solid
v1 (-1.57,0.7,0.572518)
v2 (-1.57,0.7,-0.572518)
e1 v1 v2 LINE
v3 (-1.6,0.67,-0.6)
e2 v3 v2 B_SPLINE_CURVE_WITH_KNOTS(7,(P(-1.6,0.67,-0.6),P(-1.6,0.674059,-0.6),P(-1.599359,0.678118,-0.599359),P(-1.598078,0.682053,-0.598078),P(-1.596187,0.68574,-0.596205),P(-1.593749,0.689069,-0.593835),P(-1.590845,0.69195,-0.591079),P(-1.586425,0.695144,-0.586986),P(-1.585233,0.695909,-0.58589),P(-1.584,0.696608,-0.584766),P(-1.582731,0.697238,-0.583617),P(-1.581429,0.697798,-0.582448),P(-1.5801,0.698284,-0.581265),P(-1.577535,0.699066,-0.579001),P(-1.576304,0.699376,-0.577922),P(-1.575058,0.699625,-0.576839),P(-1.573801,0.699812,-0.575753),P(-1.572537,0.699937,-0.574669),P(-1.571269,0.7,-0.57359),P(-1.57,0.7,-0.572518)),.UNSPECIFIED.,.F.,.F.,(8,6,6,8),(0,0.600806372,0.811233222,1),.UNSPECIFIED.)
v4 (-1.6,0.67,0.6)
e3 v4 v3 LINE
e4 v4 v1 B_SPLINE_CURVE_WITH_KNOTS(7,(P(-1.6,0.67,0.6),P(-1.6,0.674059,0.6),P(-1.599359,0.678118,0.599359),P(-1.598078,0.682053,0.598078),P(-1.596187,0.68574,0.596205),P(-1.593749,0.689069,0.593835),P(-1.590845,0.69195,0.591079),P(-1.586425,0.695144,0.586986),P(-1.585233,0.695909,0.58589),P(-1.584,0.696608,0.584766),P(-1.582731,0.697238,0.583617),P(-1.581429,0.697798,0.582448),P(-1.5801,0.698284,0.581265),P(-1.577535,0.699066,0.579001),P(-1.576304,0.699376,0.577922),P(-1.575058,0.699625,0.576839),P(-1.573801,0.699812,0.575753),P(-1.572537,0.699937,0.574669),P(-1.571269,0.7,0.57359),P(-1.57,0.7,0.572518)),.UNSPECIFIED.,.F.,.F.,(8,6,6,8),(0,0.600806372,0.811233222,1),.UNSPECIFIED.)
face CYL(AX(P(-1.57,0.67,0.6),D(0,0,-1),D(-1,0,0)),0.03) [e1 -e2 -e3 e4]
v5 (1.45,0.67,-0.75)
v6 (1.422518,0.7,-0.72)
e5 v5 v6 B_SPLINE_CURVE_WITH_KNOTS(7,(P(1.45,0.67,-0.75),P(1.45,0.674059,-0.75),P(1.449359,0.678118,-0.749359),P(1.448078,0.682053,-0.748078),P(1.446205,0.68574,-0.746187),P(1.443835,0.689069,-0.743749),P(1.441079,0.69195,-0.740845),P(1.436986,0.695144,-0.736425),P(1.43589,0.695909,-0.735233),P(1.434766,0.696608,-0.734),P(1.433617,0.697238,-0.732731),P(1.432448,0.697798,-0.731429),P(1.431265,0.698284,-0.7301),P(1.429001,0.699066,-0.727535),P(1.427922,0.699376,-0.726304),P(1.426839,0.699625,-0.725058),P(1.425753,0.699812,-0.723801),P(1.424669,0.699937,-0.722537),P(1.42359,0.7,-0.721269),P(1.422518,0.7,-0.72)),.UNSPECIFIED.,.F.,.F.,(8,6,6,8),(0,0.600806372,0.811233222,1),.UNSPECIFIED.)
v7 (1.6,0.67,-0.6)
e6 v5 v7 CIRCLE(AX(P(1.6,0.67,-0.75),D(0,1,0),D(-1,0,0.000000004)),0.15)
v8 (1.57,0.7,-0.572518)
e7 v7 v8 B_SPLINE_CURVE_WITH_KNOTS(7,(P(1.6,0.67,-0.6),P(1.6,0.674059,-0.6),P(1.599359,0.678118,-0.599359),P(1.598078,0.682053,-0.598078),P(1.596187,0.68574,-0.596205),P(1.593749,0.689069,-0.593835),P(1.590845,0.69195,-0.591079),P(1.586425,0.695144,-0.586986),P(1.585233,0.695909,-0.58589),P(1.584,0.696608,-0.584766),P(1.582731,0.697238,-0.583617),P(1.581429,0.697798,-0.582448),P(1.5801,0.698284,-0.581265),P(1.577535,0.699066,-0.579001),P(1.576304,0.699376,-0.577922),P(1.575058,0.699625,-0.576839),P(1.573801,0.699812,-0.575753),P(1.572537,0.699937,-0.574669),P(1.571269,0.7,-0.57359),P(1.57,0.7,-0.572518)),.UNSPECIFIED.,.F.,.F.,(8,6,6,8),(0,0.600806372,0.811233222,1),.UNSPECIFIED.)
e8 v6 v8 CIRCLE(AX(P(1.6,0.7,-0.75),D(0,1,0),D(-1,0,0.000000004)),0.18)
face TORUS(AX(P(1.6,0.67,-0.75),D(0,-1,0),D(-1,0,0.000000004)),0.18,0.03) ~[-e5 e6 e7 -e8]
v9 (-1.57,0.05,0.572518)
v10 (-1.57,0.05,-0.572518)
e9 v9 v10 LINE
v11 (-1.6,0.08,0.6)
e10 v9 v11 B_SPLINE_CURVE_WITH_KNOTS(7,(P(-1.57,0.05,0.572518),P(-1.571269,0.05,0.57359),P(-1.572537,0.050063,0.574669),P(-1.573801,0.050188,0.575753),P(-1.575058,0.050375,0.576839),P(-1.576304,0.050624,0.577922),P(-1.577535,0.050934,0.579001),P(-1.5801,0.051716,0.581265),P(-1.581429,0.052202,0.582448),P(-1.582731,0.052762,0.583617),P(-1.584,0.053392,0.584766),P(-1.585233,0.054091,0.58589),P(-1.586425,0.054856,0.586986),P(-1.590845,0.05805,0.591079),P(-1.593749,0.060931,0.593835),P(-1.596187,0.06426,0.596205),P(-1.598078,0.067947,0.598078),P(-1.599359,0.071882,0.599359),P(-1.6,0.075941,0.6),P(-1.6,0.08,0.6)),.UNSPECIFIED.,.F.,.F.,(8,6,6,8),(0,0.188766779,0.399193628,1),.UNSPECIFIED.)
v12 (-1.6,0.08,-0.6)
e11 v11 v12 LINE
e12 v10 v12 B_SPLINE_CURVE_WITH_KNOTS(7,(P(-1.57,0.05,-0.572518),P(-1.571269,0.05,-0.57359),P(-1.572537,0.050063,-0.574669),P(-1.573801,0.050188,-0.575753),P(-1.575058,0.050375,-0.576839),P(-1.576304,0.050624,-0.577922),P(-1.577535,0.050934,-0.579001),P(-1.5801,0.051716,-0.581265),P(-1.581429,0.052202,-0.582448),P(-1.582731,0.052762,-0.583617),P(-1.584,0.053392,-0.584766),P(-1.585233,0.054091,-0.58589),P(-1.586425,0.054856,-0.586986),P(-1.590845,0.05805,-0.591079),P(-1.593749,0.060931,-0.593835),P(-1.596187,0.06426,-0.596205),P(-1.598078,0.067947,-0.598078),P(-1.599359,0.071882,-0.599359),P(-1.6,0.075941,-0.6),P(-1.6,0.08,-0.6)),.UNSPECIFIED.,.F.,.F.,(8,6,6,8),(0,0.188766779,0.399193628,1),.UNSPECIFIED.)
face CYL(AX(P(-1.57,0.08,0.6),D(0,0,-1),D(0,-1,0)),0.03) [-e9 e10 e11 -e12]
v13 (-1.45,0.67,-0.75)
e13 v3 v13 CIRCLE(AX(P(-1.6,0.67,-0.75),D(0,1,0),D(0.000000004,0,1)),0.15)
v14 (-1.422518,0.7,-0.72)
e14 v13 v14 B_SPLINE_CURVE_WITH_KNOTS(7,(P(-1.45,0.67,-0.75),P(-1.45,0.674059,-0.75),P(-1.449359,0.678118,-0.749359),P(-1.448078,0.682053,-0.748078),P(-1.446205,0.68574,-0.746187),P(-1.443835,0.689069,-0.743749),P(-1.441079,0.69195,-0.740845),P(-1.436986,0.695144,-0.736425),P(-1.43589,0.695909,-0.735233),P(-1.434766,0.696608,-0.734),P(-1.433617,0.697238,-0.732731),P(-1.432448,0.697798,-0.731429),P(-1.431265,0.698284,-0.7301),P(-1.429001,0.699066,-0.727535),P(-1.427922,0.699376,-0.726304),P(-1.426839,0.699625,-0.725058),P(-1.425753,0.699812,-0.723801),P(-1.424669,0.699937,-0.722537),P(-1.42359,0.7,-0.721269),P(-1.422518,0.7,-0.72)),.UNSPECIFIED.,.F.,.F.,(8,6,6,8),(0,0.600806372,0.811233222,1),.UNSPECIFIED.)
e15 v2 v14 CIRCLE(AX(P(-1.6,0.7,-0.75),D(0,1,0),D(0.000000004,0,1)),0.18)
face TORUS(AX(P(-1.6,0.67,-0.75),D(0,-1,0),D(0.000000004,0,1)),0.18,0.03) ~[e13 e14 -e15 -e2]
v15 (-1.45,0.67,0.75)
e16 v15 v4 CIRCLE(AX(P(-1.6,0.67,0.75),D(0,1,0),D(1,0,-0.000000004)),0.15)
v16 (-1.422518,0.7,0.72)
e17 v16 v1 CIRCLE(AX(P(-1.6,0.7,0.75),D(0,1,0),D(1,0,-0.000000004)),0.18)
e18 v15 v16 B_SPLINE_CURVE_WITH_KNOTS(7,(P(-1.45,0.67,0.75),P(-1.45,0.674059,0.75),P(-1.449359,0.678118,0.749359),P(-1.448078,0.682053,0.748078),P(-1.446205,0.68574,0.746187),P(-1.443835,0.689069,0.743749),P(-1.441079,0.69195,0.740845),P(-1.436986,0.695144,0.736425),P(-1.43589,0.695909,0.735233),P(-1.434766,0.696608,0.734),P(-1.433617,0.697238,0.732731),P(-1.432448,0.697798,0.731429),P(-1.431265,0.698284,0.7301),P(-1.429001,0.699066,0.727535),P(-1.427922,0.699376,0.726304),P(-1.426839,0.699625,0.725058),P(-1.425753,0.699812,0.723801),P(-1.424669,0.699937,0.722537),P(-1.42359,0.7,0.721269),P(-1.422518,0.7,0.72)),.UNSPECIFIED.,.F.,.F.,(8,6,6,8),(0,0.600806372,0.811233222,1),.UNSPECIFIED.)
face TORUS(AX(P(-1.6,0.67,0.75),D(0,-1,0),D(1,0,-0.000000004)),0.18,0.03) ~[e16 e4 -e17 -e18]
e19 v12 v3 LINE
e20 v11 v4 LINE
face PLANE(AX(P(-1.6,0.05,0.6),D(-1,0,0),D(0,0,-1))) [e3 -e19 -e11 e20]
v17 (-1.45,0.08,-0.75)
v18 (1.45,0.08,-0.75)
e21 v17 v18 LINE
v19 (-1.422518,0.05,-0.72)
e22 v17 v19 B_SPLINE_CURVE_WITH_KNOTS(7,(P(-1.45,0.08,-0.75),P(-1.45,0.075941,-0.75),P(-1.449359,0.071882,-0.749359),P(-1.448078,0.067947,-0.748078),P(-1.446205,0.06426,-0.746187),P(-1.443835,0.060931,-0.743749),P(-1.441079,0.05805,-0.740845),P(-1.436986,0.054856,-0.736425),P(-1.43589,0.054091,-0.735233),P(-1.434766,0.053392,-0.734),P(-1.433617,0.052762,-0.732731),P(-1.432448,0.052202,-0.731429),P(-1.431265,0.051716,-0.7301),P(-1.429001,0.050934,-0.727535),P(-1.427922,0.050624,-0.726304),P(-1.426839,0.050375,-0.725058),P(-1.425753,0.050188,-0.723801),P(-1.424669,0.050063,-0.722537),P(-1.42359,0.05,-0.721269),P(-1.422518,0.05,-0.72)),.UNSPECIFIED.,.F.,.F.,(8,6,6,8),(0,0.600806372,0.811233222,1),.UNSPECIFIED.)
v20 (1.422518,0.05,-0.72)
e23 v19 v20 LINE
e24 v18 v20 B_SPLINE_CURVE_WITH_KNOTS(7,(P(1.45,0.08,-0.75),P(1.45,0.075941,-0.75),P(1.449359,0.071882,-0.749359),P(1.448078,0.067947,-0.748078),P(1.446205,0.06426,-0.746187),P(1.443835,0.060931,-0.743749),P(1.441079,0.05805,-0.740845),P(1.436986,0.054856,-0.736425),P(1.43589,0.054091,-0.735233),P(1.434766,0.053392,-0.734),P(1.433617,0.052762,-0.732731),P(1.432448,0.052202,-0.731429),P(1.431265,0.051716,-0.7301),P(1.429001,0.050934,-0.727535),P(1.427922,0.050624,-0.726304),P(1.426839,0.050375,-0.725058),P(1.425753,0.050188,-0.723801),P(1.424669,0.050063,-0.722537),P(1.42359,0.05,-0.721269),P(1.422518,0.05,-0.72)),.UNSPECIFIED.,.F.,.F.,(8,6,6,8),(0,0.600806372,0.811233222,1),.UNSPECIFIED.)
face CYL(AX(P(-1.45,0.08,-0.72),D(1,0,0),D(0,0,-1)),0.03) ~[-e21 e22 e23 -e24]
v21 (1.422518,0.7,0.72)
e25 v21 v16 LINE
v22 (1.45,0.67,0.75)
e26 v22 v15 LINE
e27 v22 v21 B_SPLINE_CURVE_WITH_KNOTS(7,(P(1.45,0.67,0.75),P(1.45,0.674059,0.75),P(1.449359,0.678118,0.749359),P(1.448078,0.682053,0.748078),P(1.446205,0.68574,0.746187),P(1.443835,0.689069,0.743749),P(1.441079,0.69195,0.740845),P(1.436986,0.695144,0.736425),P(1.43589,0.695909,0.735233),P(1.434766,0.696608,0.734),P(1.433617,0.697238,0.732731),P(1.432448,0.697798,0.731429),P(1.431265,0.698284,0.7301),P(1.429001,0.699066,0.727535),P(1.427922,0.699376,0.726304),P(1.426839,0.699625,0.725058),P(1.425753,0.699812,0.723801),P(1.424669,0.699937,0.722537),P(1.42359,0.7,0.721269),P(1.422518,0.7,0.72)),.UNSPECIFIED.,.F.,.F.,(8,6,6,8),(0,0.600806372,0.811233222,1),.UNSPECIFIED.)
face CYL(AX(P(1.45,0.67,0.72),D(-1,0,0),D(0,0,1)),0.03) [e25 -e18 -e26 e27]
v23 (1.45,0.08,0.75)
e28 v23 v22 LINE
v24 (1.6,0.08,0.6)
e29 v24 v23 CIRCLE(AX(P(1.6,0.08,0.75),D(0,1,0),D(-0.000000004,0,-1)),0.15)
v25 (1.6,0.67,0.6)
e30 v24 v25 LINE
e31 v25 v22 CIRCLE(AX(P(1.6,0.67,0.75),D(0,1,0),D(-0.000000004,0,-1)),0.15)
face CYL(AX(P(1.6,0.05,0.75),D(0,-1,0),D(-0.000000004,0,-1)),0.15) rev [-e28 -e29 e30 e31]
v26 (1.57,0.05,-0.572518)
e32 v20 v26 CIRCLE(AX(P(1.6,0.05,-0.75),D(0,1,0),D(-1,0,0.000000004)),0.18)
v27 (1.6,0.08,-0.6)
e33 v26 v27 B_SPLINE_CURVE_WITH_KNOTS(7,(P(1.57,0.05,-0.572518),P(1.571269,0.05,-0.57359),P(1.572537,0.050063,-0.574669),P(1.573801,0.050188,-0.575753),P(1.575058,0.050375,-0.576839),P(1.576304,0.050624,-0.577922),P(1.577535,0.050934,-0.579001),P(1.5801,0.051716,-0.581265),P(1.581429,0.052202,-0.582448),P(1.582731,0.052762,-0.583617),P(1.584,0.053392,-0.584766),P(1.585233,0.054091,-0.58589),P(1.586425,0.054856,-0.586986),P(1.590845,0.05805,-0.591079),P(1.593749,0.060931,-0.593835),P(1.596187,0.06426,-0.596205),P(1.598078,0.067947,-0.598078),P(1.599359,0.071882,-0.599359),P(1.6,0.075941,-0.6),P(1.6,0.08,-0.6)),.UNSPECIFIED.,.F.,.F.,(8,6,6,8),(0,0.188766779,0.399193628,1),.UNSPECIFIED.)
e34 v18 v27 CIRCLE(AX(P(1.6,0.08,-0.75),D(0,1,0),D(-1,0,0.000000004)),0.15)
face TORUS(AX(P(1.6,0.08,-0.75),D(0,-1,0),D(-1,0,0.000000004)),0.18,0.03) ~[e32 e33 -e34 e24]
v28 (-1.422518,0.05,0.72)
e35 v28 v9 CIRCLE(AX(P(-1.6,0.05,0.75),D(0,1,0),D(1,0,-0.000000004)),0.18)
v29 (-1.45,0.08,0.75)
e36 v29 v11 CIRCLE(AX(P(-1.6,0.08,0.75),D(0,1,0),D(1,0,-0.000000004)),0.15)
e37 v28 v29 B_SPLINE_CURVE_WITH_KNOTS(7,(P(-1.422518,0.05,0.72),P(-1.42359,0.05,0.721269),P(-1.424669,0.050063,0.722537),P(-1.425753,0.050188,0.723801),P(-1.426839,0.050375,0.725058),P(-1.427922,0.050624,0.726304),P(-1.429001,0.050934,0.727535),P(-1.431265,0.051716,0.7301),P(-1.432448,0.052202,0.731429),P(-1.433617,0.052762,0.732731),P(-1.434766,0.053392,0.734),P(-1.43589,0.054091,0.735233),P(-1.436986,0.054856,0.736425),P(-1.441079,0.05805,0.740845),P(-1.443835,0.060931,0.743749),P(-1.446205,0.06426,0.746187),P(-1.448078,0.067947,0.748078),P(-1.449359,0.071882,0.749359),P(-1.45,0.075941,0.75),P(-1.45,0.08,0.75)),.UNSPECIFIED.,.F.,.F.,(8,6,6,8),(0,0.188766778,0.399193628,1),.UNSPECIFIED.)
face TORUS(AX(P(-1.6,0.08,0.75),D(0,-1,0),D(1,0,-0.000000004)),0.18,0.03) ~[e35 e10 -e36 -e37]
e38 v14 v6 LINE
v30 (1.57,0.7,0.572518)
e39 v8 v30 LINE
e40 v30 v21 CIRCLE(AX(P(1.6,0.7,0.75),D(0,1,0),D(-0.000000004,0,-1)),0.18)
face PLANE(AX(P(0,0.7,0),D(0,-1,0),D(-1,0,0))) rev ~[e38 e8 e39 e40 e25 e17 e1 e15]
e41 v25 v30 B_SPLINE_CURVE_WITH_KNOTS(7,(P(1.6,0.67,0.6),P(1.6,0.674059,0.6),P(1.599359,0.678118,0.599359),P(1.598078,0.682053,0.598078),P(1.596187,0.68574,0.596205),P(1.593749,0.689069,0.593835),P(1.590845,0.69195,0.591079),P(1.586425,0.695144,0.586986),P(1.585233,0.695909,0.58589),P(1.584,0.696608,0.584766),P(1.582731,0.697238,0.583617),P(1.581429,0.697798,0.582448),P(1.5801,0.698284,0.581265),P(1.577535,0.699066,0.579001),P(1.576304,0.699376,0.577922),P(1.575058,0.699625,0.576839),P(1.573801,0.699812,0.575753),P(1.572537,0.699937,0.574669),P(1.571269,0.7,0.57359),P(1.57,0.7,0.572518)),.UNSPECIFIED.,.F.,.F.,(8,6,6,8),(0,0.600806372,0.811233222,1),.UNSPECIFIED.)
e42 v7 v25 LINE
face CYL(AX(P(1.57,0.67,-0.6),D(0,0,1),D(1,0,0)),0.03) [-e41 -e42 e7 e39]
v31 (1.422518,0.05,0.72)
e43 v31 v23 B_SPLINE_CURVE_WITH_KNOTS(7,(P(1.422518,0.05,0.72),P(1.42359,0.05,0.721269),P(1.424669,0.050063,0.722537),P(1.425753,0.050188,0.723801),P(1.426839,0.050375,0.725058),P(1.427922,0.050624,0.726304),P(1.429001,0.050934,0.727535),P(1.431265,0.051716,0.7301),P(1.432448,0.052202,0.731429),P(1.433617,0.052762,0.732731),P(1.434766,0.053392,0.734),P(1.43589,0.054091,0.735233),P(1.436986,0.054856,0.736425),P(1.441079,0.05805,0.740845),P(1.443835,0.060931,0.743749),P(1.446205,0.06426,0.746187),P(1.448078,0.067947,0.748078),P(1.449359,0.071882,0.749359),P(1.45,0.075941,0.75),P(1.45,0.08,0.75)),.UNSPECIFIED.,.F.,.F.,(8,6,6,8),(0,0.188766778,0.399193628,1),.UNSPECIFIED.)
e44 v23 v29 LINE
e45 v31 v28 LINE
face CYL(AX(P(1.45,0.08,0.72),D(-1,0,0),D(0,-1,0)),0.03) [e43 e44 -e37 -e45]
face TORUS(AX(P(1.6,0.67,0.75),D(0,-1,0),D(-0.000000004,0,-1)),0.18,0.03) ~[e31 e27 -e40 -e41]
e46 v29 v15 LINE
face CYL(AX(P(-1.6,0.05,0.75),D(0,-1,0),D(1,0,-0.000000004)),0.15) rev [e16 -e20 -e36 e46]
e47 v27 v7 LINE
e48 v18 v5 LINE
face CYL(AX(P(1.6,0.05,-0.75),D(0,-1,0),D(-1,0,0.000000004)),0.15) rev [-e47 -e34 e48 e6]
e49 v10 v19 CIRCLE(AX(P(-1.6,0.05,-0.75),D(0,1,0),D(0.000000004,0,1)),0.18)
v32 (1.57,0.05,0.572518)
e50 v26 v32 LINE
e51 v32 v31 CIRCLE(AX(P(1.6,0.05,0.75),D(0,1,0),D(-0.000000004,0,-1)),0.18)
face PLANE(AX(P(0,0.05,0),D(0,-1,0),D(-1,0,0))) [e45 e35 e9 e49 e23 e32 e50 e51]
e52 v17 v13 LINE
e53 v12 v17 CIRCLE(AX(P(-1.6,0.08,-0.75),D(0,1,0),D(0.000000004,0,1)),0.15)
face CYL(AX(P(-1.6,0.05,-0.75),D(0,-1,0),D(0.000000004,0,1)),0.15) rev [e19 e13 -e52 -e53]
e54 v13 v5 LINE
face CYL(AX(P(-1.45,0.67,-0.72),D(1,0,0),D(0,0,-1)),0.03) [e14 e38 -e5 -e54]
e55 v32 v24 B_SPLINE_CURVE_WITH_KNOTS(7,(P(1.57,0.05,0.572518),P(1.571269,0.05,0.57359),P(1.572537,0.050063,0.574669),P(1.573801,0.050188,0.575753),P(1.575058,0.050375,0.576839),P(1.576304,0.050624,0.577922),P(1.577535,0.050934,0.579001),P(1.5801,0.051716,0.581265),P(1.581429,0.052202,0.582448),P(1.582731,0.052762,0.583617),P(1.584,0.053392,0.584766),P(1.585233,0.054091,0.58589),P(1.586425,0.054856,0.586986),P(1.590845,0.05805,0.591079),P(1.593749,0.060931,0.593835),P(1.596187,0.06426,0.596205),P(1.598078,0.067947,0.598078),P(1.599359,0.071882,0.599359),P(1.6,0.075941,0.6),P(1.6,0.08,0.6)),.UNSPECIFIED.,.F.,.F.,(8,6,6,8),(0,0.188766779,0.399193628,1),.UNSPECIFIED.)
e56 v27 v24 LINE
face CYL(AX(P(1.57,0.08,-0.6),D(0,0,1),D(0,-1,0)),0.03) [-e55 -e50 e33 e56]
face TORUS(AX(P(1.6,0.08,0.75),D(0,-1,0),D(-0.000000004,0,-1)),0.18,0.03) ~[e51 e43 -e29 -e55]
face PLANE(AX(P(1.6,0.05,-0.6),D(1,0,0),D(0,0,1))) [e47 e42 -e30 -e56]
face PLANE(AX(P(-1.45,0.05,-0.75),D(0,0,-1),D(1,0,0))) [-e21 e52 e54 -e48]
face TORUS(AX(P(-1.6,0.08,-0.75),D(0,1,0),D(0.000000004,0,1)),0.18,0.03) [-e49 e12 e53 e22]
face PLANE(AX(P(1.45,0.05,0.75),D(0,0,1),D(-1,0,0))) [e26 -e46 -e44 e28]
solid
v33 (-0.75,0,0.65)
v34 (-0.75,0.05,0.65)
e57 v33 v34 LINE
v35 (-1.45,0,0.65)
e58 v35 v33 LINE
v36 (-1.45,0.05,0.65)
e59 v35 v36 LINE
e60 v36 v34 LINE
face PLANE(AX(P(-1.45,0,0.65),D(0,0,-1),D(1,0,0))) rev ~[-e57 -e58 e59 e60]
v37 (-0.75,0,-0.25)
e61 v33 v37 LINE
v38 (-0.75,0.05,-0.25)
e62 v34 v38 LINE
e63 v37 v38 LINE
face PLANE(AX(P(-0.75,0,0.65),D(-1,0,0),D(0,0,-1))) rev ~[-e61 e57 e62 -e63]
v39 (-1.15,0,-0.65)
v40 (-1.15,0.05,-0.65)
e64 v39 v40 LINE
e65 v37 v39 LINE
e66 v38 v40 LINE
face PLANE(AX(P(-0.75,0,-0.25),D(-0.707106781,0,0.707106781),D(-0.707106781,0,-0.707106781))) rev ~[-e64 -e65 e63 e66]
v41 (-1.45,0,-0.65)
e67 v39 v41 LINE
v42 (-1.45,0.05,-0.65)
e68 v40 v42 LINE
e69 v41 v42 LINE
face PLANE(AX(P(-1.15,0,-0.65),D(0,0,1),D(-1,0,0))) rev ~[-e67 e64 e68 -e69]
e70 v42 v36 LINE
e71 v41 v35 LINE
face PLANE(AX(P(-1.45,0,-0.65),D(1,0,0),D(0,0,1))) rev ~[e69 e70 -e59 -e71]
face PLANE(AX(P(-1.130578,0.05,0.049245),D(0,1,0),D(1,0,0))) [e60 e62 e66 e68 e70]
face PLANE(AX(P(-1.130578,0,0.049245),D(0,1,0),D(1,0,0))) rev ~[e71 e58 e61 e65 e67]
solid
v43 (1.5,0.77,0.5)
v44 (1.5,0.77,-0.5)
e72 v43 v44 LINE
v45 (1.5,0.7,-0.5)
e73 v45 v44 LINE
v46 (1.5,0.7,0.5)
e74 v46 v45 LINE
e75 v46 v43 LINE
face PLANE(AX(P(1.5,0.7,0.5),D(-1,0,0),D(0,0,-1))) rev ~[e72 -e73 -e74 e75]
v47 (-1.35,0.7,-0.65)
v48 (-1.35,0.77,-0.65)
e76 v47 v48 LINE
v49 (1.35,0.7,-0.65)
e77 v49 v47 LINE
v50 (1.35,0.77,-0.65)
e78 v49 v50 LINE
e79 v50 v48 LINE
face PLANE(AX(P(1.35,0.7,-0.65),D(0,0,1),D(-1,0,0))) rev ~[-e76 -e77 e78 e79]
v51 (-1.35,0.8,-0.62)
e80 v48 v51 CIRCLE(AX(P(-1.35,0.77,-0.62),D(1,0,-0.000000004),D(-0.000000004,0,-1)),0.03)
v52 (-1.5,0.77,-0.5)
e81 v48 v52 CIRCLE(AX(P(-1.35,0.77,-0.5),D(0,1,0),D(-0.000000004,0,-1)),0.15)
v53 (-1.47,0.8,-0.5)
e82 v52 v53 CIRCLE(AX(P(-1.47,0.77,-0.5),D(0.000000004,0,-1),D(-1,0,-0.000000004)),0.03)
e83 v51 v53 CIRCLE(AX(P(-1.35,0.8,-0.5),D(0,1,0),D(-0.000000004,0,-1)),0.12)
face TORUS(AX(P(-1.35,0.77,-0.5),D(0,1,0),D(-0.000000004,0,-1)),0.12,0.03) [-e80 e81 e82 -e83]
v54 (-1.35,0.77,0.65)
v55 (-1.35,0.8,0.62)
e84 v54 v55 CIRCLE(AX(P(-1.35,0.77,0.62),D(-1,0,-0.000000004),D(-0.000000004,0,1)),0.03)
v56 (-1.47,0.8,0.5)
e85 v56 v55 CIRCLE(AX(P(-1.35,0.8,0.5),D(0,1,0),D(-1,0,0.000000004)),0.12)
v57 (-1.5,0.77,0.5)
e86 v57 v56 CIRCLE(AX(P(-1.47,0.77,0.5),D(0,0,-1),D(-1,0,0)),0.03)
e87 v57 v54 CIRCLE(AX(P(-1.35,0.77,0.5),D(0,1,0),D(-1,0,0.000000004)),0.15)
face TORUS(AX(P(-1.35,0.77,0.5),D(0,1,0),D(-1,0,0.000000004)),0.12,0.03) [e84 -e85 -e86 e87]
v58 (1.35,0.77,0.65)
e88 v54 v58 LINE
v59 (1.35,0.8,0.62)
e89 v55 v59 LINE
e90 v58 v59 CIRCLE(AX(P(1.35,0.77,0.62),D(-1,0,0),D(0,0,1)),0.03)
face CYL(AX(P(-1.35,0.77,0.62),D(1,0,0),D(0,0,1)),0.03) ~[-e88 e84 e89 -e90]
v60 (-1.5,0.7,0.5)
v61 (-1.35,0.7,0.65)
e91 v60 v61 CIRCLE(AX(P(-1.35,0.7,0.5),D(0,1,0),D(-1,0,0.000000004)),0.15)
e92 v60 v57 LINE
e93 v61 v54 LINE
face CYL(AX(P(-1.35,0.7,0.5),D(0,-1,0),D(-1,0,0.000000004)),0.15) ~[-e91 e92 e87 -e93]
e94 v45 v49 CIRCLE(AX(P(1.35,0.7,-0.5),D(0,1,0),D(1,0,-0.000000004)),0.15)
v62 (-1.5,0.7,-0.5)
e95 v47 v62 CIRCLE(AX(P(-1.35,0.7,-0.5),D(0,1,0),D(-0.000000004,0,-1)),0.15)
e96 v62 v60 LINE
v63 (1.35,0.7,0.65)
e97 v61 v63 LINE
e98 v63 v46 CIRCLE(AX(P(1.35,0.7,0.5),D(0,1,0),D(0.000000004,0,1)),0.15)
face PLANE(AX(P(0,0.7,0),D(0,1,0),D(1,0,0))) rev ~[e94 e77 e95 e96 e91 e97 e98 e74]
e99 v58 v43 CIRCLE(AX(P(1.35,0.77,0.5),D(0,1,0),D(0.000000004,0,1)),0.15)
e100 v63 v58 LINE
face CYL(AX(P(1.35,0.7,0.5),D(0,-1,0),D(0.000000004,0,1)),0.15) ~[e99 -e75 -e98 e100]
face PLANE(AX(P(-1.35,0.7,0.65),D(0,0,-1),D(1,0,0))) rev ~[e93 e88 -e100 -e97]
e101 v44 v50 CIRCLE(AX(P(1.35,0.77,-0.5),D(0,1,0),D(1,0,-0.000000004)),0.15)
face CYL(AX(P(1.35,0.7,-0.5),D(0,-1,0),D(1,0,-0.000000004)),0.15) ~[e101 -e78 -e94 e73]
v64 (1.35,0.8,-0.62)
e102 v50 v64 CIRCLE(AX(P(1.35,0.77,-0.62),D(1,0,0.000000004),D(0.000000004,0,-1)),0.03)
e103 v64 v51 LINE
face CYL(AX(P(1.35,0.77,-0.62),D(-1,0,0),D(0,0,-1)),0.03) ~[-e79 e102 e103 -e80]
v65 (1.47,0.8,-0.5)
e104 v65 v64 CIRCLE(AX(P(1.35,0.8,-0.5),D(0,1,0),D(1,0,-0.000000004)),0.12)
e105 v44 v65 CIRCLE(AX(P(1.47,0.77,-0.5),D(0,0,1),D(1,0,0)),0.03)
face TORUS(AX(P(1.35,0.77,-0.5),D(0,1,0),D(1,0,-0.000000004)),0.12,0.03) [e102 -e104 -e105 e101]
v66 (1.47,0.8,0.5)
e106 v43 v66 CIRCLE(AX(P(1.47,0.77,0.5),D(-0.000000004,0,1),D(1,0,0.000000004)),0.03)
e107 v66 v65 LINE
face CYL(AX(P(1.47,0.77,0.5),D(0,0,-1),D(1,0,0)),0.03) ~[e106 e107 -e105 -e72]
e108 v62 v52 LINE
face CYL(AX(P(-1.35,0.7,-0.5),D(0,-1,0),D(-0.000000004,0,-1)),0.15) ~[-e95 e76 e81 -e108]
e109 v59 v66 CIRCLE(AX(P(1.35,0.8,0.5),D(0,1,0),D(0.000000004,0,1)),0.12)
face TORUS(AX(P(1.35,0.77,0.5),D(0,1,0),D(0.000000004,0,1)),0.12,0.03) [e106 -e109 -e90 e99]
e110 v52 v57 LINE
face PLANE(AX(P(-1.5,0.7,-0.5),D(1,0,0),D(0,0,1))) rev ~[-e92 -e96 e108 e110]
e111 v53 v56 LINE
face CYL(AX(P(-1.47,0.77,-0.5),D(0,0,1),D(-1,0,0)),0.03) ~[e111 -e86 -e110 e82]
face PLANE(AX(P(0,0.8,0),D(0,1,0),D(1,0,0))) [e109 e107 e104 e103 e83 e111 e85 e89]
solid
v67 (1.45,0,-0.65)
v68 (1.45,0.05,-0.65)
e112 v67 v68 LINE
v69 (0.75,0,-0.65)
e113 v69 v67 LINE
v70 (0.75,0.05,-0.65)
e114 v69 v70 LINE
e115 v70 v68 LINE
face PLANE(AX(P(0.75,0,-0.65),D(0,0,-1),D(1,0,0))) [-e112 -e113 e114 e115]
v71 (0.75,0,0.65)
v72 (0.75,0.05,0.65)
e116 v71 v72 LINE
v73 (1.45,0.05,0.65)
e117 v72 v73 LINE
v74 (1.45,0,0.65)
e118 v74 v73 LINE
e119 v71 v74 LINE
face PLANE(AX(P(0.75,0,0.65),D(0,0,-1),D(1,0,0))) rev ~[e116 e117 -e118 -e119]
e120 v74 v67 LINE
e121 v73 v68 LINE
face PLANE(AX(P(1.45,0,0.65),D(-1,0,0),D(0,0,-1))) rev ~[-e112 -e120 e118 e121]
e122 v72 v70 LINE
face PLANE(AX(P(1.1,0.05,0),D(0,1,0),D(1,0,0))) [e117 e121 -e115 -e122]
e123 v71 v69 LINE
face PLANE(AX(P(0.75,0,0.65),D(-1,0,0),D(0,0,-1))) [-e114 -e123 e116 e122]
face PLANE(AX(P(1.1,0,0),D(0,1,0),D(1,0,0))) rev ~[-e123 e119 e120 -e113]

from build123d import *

# Parameters (mm, degrees)
EXTRUDE_START     = 0.05
EXTRUDE_1_DEPTH   = 0.65
EXTRUDE_2_DEPTH   = 0.1
FILLET_1_R        = 0.03
FILLET_2_R        = 0.03
FILLET_3_R        = 0.03
EXTRUDE_3_DEPTH   = 0.05
SKETCH_3_W        = 0.7
SKETCH_3_H        = 1.3
EXTRUDE_3_2_DEPTH = 0.05


with BuildPart() as part:
    # Эскиз1 → Бобышка-Вытянуть1 (new body)
    with BuildSketch(Plane(origin=(0, 0, 0), x_dir=(1, 0, 0), z_dir=(0, 1, 0)).offset(EXTRUDE_START)):
        with BuildLine():
            Line((-1.45, 0.75), (1.45, 0.75))
            ThreePointArc((1.45, 0.75), (1.493933983, 0.643933983), (1.6, 0.6))
            Line((1.6, 0.6), (1.6, -0.6))
            ThreePointArc((1.6, -0.6), (1.493933983, -0.643933983), (1.45, -0.75))
            Line((1.45, -0.75), (-1.45, -0.75))
            ThreePointArc((-1.45, -0.75), (-1.493933983, -0.643933983), (-1.6, -0.6))
            Line((-1.6, -0.6), (-1.6, 0.6))
            ThreePointArc((-1.6, 0.6), (-1.493933983, 0.643933983), (-1.45, 0.75))
        make_face()
    extrude(amount=EXTRUDE_1_DEPTH)

    # Скругление1
    fillet_1_edges = [part.edges().sort_by_distance(p)[0] for p in [
        (-1.493933983, 0.7, 0.643933983),
        (0, 0.7, 0.75),
        (1.493933983, 0.7, 0.643933983),
        (1.6, 0.7, 0),
        (1.493933983, 0.7, -0.643933983),
        (0, 0.7, -0.75),
        (-1.493933983, 0.7, -0.643933983),
        (-1.6, 0.7, 0),
    ]]
    fillet(fillet_1_edges, radius=FILLET_1_R)

    # Скругление2
    fillet_2_edges = [part.edges().sort_by_distance(p)[0] for p in [
        (-1.6, 0.05, 0),
        (-1.493933983, 0.05, -0.643933983),
        (0, 0.05, -0.75),
        (1.493933983, 0.05, -0.643933983),
        (1.6, 0.05, 0),
        (1.493933983, 0.05, 0.643933983),
        (0, 0.05, 0.75),
        (-1.493933983, 0.05, 0.643933983),
    ]]
    fillet(fillet_2_edges, radius=FILLET_2_R)


with BuildPart() as body_2:
    # Эскиз2 → Бобышка-Вытянуть2 (new body)
    with BuildSketch(Plane(origin=(0, 0.7, 0), x_dir=(1, 0, 0), z_dir=(0, 1, 0))):
        with BuildLine():
            Line((-1.35, -0.65), (1.35, -0.65))
            ThreePointArc((1.35, -0.65), (1.456066017, -0.606066017), (1.5, -0.5))
            Line((1.5, -0.5), (1.5, 0.5))
            ThreePointArc((1.5, 0.5), (1.456066017, 0.606066017), (1.35, 0.65))
            Line((1.35, 0.65), (-1.35, 0.65))
            ThreePointArc((-1.35, 0.65), (-1.456066017, 0.606066017), (-1.5, 0.5))
            Line((-1.5, 0.5), (-1.5, -0.5))
            ThreePointArc((-1.5, -0.5), (-1.456066017, -0.606066017), (-1.35, -0.65))
        make_face()
    extrude(amount=EXTRUDE_2_DEPTH)

    # Скругление3
    fillet_3_edges = [body_2.edges().sort_by_distance(p)[0] for p in [
        (-1.456066017, 0.8, -0.606066017),
        (-1.5, 0.8, 0),
        (-1.456066017, 0.8, 0.606066017),
        (0, 0.8, 0.65),
        (1.456066017, 0.8, 0.606066017),
        (1.5, 0.8, 0),
        (1.456066017, 0.8, -0.606066017),
        (0, 0.8, -0.65),
    ]]
    fillet(fillet_3_edges, radius=FILLET_3_R)


with BuildPart() as body_3:
    # Эскиз3 → Бобышка-Вытянуть3 (new body)
    with BuildSketch(Plane(origin=(0, 0, 0), x_dir=(1, 0, 0), z_dir=(0, 1, 0))):
        Polygon((-1.45, -0.65), (-0.75, -0.65), (-0.75, 0.25), (-1.15, 0.65), (-1.45, 0.65), align=None)
    extrude(amount=EXTRUDE_3_DEPTH)


with BuildPart() as body_4:
    # Эскиз3 → Extrude 3 2 (new body)
    with BuildSketch(Plane(origin=(0, 0, 0), x_dir=(1, 0, 0), z_dir=(0, 1, 0))):
        with Locations((1.1, 0)):
            Rectangle(SKETCH_3_W, SKETCH_3_H)
    extrude(amount=EXTRUDE_3_2_DEPTH)


solid = Compound([part.part, body_2.part, body_3.part, body_4.part])
